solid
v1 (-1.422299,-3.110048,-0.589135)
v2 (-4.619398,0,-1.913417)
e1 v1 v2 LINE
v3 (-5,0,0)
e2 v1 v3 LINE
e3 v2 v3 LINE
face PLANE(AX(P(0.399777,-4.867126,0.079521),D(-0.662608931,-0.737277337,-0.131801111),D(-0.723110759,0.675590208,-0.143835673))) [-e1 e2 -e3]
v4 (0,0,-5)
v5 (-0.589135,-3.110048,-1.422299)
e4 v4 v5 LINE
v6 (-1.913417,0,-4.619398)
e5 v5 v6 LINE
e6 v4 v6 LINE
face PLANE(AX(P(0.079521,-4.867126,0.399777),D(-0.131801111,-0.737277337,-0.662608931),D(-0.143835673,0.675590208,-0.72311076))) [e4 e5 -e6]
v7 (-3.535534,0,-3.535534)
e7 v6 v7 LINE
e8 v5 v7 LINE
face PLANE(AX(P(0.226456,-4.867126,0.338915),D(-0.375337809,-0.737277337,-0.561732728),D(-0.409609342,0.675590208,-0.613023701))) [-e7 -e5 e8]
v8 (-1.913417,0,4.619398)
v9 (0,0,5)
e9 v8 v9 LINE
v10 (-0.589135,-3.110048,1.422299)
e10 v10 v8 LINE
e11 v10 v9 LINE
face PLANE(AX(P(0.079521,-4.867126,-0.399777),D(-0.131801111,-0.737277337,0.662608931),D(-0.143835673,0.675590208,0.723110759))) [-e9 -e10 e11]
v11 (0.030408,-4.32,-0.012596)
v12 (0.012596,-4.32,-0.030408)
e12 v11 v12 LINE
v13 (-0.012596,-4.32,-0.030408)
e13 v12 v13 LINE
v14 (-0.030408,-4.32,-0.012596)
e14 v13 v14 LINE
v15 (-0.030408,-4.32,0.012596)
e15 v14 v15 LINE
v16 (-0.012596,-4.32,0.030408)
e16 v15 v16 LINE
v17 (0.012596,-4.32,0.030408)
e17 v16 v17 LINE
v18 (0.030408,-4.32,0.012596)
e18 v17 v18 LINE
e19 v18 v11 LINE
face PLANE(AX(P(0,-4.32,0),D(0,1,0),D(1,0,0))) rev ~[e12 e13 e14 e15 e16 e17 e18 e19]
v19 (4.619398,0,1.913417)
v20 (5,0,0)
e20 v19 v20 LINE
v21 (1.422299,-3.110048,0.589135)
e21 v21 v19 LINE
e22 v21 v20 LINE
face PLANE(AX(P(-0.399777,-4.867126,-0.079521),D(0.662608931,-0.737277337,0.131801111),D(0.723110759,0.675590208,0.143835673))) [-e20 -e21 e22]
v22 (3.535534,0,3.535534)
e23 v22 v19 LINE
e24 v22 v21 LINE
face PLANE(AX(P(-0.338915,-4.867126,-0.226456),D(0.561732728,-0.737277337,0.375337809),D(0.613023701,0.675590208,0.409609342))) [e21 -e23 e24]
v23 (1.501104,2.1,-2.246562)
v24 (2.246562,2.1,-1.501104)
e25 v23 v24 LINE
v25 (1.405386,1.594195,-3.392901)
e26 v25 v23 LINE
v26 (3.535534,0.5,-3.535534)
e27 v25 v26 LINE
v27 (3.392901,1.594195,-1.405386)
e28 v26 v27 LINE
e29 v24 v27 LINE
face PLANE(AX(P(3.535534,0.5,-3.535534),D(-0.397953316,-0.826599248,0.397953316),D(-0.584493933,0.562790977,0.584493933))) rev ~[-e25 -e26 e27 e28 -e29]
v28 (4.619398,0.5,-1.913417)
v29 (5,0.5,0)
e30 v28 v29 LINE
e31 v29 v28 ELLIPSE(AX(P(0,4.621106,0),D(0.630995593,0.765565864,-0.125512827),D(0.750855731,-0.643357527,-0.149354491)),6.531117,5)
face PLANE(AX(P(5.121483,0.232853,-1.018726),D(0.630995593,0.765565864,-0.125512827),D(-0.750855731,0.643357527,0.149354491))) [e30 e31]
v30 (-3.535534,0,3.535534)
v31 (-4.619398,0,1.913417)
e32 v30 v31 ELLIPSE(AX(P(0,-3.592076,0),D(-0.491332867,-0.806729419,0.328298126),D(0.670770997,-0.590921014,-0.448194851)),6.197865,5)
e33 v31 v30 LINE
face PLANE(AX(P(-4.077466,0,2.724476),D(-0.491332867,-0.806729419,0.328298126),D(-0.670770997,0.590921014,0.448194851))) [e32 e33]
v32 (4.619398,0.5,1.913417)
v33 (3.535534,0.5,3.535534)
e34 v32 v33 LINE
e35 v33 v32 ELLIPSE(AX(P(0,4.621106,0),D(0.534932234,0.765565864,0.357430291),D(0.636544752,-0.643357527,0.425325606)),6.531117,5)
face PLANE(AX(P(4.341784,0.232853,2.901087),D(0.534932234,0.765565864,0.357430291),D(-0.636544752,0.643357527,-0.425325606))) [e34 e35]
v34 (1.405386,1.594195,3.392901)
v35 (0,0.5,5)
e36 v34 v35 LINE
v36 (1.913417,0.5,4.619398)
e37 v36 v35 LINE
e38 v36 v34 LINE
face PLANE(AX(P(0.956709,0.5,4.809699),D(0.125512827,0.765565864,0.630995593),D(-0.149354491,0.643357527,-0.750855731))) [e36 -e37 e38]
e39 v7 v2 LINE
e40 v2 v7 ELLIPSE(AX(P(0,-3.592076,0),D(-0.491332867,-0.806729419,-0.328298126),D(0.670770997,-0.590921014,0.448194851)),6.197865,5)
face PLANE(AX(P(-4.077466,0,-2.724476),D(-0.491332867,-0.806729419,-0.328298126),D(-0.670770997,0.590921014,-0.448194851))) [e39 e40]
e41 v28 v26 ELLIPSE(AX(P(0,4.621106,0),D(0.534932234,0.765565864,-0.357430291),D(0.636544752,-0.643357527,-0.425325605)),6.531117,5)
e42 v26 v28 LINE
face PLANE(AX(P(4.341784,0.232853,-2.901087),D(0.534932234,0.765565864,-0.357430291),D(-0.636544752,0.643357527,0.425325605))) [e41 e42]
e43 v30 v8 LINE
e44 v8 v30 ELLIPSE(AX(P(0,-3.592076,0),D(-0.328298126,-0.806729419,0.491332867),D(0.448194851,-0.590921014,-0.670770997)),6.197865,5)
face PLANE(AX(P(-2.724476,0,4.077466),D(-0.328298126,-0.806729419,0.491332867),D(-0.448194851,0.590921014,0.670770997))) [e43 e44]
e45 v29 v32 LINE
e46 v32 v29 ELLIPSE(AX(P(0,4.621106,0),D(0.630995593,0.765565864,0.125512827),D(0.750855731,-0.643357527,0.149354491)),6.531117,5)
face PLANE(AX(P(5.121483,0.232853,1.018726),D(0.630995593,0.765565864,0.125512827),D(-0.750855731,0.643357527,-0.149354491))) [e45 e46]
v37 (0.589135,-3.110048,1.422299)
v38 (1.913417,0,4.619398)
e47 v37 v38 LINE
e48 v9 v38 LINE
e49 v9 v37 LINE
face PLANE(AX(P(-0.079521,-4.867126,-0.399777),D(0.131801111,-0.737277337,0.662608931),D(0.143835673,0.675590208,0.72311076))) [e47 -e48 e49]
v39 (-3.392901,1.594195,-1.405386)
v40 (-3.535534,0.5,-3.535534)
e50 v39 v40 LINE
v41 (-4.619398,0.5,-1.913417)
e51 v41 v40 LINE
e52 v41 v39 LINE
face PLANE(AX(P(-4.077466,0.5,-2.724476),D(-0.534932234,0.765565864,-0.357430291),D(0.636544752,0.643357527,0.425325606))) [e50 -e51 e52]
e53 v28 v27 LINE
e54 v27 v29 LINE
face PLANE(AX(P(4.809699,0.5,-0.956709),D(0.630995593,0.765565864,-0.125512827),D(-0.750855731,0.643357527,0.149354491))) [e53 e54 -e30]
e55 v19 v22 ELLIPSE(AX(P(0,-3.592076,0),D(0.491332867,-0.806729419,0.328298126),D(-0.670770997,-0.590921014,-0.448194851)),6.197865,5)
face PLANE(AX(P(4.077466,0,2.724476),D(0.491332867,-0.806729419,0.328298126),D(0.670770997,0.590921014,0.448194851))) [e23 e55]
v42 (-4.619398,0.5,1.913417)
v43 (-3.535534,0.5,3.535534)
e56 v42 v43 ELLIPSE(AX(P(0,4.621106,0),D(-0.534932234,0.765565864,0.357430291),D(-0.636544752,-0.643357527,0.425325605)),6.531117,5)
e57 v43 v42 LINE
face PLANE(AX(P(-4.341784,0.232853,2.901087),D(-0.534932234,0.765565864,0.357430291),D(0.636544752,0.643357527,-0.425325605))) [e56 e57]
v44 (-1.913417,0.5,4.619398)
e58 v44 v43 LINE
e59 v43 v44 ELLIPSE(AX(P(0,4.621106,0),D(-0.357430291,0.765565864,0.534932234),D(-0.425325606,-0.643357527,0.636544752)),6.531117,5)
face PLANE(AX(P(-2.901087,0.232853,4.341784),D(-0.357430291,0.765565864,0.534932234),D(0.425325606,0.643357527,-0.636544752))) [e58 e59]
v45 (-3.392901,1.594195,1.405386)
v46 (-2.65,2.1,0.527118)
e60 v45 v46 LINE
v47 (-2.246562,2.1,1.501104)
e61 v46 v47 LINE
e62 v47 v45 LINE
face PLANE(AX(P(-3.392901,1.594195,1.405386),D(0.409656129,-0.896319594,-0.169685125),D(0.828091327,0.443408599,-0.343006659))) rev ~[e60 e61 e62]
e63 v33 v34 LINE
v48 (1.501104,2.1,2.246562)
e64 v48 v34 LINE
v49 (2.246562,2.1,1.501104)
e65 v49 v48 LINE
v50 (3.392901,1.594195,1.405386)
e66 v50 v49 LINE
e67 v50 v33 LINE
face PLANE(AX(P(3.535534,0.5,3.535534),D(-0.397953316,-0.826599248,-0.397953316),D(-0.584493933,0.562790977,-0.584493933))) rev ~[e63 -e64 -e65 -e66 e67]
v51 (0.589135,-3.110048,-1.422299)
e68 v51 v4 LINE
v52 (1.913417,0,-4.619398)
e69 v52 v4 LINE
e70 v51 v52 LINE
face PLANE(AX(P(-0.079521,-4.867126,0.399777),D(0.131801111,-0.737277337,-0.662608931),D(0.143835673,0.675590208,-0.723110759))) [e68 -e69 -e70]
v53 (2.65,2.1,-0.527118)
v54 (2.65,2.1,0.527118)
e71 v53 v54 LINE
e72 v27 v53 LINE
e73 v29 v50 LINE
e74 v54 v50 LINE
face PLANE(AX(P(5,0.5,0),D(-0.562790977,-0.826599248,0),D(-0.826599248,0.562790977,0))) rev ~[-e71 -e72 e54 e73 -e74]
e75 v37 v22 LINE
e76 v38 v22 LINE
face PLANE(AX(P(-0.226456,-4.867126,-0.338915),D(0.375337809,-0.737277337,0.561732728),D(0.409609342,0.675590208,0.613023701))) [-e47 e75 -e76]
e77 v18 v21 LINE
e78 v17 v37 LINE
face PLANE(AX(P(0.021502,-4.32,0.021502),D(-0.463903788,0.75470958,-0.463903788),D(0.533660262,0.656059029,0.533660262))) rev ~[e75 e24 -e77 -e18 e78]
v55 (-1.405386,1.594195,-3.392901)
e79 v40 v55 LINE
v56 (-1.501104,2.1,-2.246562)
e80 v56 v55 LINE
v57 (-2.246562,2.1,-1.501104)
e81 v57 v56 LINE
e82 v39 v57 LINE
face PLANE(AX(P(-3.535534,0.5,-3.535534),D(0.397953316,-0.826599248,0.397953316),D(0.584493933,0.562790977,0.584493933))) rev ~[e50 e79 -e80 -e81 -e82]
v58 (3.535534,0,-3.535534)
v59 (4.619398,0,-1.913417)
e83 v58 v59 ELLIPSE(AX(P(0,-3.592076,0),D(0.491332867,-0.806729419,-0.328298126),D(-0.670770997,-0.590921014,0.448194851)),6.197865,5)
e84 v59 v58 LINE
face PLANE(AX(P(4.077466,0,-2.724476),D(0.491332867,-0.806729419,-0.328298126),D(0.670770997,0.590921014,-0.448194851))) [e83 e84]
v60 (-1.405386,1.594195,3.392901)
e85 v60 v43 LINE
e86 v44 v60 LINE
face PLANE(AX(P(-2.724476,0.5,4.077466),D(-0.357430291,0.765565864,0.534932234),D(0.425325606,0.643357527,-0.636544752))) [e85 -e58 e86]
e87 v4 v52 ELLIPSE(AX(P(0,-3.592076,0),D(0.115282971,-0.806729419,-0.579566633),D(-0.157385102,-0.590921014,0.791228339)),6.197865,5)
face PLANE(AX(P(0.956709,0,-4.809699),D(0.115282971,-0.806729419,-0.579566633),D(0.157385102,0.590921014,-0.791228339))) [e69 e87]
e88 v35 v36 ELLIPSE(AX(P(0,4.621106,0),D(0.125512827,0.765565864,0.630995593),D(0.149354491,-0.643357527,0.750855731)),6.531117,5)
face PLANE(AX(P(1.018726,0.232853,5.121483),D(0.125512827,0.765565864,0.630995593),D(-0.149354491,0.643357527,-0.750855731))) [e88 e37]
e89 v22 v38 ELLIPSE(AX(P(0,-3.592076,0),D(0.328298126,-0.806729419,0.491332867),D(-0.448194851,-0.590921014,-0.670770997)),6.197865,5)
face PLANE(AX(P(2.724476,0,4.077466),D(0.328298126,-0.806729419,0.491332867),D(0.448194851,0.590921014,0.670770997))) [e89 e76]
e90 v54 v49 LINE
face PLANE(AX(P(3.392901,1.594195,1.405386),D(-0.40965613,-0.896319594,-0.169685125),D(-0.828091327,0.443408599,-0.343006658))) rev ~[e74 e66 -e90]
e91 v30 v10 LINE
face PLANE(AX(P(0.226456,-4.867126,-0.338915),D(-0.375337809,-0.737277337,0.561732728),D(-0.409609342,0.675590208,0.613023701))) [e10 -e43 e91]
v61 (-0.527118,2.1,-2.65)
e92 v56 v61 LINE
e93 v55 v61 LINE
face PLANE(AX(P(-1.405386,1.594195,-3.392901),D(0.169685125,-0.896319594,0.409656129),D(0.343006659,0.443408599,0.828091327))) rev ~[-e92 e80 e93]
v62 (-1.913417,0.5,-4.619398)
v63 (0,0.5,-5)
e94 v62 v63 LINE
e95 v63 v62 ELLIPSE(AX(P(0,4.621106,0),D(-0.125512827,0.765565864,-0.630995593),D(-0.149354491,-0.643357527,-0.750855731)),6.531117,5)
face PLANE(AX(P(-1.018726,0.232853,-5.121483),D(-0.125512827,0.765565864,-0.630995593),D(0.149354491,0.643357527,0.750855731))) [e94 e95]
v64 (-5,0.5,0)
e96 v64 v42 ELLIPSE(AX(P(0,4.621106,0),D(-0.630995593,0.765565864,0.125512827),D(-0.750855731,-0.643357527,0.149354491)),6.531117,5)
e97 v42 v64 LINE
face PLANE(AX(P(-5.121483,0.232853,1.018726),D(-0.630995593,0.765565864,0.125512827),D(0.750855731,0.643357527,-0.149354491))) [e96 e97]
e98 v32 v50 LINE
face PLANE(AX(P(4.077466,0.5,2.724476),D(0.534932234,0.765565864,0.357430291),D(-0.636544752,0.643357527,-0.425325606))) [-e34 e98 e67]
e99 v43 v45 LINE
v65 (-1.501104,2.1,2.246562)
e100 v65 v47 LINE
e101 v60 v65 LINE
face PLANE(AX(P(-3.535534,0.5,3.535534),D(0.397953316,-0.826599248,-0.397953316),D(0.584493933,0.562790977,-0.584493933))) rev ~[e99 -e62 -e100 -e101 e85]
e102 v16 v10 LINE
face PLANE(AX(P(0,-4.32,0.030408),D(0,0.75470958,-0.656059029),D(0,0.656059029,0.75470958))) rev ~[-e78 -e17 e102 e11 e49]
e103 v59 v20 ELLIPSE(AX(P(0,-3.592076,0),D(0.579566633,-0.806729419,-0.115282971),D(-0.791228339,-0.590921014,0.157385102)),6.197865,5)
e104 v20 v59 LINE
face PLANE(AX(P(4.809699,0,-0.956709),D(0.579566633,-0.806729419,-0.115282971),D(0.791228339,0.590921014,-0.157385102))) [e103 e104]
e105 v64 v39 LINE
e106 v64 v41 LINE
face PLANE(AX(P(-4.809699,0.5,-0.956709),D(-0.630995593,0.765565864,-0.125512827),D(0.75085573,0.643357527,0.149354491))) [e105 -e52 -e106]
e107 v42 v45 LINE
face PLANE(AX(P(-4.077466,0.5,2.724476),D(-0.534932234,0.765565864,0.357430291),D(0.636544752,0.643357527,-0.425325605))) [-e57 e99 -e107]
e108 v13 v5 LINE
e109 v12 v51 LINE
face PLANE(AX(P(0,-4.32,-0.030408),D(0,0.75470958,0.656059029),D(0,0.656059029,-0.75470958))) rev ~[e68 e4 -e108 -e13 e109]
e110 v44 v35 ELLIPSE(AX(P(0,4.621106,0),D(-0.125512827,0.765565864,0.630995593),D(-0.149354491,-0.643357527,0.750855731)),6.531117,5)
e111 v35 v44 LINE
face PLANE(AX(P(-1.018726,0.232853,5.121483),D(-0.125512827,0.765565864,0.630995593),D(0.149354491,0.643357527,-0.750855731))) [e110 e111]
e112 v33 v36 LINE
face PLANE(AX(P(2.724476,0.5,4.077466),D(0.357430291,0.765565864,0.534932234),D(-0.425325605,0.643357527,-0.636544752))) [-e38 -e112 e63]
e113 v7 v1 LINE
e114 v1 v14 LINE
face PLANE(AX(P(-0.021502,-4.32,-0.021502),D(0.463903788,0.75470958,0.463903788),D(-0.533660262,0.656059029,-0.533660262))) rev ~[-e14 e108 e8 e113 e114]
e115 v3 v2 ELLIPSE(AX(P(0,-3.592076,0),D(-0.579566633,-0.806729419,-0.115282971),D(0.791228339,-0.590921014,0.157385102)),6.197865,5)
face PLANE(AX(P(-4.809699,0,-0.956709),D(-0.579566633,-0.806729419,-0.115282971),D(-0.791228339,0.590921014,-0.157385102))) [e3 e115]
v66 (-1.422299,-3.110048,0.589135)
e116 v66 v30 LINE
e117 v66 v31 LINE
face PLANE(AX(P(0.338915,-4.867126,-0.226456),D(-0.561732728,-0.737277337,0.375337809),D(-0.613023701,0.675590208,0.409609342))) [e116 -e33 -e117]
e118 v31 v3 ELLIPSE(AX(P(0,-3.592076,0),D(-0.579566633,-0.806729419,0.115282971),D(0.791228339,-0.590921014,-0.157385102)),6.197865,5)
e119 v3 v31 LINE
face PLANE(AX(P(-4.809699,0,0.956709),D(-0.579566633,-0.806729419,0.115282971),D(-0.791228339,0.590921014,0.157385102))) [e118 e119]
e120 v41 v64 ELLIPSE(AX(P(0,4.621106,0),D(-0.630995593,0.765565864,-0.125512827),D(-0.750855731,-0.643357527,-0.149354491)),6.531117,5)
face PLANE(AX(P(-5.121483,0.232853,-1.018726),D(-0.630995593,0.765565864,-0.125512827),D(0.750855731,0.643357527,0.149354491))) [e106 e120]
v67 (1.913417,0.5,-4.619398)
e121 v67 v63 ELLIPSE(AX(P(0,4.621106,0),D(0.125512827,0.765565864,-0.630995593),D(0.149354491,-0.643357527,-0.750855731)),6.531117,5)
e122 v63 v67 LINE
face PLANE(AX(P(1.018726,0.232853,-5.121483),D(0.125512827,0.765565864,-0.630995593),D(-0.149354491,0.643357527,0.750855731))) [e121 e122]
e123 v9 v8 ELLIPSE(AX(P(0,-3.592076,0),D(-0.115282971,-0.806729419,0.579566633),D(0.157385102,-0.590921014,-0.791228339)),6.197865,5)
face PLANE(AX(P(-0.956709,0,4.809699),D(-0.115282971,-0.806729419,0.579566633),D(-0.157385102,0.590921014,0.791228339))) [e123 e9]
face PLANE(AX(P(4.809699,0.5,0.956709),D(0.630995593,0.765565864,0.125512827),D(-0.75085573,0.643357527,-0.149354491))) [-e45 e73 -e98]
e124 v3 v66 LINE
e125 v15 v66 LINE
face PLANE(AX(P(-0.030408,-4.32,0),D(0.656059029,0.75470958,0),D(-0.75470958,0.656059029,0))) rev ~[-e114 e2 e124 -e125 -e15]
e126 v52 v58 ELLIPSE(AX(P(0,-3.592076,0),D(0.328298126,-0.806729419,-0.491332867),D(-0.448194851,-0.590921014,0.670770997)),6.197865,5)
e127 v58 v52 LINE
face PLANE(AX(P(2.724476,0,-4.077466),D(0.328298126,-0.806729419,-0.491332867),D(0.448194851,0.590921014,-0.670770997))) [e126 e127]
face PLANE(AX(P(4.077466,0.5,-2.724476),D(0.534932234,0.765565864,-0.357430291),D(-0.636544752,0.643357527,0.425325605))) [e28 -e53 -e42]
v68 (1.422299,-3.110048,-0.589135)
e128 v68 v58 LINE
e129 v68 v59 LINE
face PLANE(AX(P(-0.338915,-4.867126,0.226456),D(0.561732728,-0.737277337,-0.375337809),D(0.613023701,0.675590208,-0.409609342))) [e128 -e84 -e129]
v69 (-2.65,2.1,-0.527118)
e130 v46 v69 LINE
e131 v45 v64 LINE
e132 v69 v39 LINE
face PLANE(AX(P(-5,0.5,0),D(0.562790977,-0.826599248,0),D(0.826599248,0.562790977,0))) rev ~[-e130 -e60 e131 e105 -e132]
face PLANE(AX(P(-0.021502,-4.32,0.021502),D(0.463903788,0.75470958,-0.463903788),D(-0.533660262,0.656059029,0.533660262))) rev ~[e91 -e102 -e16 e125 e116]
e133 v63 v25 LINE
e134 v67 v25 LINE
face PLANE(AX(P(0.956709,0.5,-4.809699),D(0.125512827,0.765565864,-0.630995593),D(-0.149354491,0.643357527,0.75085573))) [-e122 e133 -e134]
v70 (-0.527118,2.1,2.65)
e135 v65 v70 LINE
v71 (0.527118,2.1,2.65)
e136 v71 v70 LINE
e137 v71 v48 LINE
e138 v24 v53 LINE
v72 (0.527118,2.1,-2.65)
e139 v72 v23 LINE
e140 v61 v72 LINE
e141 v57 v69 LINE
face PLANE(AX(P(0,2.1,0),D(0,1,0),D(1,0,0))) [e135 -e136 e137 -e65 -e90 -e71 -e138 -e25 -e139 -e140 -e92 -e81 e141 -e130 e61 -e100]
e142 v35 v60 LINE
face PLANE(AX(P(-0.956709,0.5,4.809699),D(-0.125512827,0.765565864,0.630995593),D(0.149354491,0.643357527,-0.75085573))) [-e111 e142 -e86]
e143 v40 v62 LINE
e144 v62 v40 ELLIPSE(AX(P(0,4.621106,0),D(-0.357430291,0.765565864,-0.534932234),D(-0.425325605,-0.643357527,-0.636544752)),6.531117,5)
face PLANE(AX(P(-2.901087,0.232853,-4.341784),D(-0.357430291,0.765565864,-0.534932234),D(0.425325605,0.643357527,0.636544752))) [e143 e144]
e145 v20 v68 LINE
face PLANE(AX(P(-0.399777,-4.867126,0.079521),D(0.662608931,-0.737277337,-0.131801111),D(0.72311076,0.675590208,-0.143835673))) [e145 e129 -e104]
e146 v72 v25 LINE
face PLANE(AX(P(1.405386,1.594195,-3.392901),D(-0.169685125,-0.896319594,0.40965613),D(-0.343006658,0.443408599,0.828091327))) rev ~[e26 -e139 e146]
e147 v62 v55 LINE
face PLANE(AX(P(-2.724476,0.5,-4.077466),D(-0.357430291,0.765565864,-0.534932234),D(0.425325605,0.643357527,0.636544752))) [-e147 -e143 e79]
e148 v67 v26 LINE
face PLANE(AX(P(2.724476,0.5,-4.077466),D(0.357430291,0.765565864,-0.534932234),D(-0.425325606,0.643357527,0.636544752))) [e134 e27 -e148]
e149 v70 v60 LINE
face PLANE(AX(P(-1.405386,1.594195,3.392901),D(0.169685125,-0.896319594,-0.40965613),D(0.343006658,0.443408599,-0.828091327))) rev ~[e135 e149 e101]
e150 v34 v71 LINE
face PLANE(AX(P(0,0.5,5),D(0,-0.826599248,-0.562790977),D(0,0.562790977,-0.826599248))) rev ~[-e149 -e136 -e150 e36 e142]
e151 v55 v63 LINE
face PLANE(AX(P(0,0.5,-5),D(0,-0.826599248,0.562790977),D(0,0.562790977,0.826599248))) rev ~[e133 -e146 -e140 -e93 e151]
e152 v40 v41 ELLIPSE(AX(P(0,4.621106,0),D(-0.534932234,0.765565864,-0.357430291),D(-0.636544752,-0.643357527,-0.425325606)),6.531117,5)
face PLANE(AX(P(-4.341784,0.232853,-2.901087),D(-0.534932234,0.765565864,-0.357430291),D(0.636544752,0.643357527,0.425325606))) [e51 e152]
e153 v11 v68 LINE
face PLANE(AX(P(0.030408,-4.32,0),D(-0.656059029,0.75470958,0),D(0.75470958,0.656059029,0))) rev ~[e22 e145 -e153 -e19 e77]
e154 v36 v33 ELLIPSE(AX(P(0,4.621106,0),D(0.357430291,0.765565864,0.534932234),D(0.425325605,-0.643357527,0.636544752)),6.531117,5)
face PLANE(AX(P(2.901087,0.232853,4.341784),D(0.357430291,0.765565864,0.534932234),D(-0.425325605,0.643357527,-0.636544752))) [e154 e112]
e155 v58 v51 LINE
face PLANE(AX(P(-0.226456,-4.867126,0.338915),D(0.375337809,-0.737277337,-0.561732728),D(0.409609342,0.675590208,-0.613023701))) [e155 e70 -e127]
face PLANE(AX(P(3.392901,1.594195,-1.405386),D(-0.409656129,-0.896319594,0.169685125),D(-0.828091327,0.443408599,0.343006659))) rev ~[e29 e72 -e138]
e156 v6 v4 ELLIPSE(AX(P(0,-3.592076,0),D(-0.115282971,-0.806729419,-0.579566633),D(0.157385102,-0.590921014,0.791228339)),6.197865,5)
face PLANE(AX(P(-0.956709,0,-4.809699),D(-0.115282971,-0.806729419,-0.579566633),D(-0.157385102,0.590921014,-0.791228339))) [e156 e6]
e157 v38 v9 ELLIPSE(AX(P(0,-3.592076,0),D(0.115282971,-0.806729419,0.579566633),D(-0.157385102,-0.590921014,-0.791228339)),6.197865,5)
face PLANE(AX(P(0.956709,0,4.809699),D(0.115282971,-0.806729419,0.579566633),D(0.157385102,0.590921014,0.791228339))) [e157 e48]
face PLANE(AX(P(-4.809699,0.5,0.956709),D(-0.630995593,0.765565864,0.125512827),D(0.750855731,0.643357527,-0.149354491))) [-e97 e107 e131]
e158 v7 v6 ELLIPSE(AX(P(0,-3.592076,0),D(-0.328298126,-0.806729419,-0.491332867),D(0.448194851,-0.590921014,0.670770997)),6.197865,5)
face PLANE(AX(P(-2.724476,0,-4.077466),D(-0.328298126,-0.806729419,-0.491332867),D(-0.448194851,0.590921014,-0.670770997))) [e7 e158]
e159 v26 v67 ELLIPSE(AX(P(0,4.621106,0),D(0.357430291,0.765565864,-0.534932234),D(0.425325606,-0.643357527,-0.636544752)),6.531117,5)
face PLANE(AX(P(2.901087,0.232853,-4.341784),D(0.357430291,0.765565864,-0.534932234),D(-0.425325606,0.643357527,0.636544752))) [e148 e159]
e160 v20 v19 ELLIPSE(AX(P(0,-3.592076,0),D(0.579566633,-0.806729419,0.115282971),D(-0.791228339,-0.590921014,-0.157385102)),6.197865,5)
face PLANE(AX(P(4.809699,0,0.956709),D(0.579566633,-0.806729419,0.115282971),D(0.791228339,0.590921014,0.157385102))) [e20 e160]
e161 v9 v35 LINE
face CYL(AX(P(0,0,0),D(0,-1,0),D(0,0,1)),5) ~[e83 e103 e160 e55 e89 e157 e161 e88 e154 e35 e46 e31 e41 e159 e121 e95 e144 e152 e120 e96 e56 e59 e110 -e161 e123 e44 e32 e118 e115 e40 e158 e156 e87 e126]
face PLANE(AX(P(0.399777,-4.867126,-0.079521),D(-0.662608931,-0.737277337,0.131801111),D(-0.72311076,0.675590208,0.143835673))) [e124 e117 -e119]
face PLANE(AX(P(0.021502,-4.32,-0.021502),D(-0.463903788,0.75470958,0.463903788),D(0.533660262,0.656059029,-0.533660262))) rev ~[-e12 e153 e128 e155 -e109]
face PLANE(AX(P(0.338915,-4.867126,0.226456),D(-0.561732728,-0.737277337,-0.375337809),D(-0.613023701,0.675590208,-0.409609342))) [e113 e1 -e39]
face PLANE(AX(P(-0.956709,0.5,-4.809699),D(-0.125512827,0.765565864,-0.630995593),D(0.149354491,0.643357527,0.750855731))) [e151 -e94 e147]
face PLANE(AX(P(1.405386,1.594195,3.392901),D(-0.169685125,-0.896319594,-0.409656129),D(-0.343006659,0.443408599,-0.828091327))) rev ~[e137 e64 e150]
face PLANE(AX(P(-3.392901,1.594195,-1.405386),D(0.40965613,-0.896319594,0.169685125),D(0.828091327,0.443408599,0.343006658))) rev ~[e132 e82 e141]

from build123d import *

# Parameters (mm, degrees)
ESQUISSE1_R                  = 5
BOSS_EXTRU_4_DEPTH           = 0.5
BOSS_EXTRU_5_DEPTH           = 4.32
BOSS_EXTRU_6_DEPTH           = 1.6
ENL_V_MAT_EXTRU_1_DEPTH      = 6
R_P_TITION_CIRCULAIRE1_COUNT = 8
ENL_V_MAT_EXTRU_4_DEPTH      = 7.935199227
R_P_TITION_CIRCULAIRE2_COUNT = 16
ENL_V_MAT_EXTRU_5_DEPTH      = 7.532814824
R_P_TITION_CIRCULAIRE3_COUNT = 8


with BuildPart() as part:
    # Esquisse1 → Boss.-Extru.4 (new body)
    with BuildSketch(Plane(origin=(0, 0, 0), x_dir=(1, 0, 0), z_dir=(0, 1, 0))):
        with Locations(Location((0, 0, 0), (0, 0, 270))):  # turned: the seam where the file's is
            Circle(ESQUISSE1_R)
    extrude(amount=BOSS_EXTRU_4_DEPTH)

    # Esquisse1_4 → Boss.-Extru.5 (add)
    with BuildSketch(Plane(origin=(0, 0, 0), x_dir=(1, 0, 0), z_dir=(0, 1, 0))):
        Polygon((2.832272487, -4.238795325), (4.238795325, -2.832272487), (5, -0.994561837), (5, 0.994561837), (4.238795325, 2.832272487), (2.832272487, 4.238795325), (0.994561837, 5), (-0.994561837, 5), (-2.832272487, 4.238795325), (-4.238795325, 2.832272487), (-5, 0.994561837), (-5, -0.994561837), (-4.238795325, -2.832272487), (-2.832272487, -4.238795325), (-0.994561837, -5), (0.994561837, -5), align=None)
    extrude(amount=-BOSS_EXTRU_5_DEPTH)

    # Esquisse11 → Boss.-Extru.6 (add)
    with BuildSketch(Plane(origin=(0, 0.5, 0), x_dir=(1, 0, 0), z_dir=(0, 1, 0))):
        Polygon((-0.994561837, 5), (-2.832272487, 4.238795325), (-4.238795325, 2.832272487), (-5, 0.994561837), (-5, -0.994561837), (-4.238795325, -2.832272487), (-2.832272487, -4.238795325), (-0.994561837, -5), (0.994561837, -5), (2.832272487, -4.238795325), (4.238795325, -2.832272487), (5, -0.994561837), (5, 0.994561837), (4.238795325, 2.832272487), (2.832272487, 4.238795325), (0.994561837, 5), align=None)
    extrude(amount=BOSS_EXTRU_6_DEPTH)

    # Esquisse7 → Enl_v. mat.-Extru.1 (cut, symmetric)
    with BuildSketch(Plane.XY):
        Polygon((-7, 0), (-7, -4.32), (-0.030408481, -4.32), (-5, 0), (-5, 0.5), (-2.65, 2.1), (-7, 2.1), align=None)
    enl_v_mat_extru_1 = extrude(amount=ENL_V_MAT_EXTRU_1_DEPTH, both=True, mode=Mode.SUBTRACT)

    # R_p_tition circulaire1: Enl_v. mat.-Extru.1 ×8 about axis
    r_p_tition_circulaire1_axis = Axis((0, 0, 0), (0, 1, 0))
    for i in range(1, R_P_TITION_CIRCULAIRE1_COUNT):
        add(enl_v_mat_extru_1.rotate(r_p_tition_circulaire1_axis, i * 360 / R_P_TITION_CIRCULAIRE1_COUNT), mode=Mode.SUBTRACT)

    # Esquisse10 → Enl_v. mat.-Extru.4 (cut, symmetric)
    with BuildSketch(Plane(origin=(0, 0, 0), x_dir=(-0.831469612, 0, -0.555570233), z_dir=(0.555570233, 0, -0.831469612))):
        Polygon((5.903926402, 0), (5.903926402, -4.86712571), (-0.407609261, -4.86712571), (4.903926402, 0), (5.221818983, 0.232853051), (4.903926402, 0.5), (3, 2.1), (5.903926402, 2.1), align=None)
    enl_v_mat_extru_4 = extrude(amount=ENL_V_MAT_EXTRU_4_DEPTH, both=True, mode=Mode.SUBTRACT)

    # R_p_tition circulaire2: Enl_v. mat.-Extru.4 ×16 about axis
    r_p_tition_circulaire2_axis = Axis((0, 0, 0), (0, 1, 0))
    for i in range(1, R_P_TITION_CIRCULAIRE2_COUNT):
        add(enl_v_mat_extru_4.rotate(r_p_tition_circulaire2_axis, i * 360 / R_P_TITION_CIRCULAIRE2_COUNT), mode=Mode.SUBTRACT)

    # Esquisse13 → Enl_v. mat.-Extru.5 (cut, symmetric)
    with BuildSketch(Plane(origin=(0, 0, 0), x_dir=(-0.923879533, 0, -0.382683432), z_dir=(0.382683432, 0, -0.923879533))):
        Polygon((3.672450086, 1.594194745), (2.65, 2.1), (3.922671549, 2.1), align=None)
        Polygon((-3.922671549, 2.1), (-3.672450086, 1.594194745), (-2.65, 2.1), align=None)
    enl_v_mat_extru_5 = extrude(amount=ENL_V_MAT_EXTRU_5_DEPTH, both=True, mode=Mode.SUBTRACT)

    # R_p_tition circulaire3: Enl_v. mat.-Extru.5 ×8 about axis
    r_p_tition_circulaire3_axis = Axis((0, 0, 0), (0, 1, 0))
    for i in range(1, R_P_TITION_CIRCULAIRE3_COUNT):
        add(enl_v_mat_extru_5.rotate(r_p_tition_circulaire3_axis, i * 360 / R_P_TITION_CIRCULAIRE3_COUNT), mode=Mode.SUBTRACT)


solid = part.part
